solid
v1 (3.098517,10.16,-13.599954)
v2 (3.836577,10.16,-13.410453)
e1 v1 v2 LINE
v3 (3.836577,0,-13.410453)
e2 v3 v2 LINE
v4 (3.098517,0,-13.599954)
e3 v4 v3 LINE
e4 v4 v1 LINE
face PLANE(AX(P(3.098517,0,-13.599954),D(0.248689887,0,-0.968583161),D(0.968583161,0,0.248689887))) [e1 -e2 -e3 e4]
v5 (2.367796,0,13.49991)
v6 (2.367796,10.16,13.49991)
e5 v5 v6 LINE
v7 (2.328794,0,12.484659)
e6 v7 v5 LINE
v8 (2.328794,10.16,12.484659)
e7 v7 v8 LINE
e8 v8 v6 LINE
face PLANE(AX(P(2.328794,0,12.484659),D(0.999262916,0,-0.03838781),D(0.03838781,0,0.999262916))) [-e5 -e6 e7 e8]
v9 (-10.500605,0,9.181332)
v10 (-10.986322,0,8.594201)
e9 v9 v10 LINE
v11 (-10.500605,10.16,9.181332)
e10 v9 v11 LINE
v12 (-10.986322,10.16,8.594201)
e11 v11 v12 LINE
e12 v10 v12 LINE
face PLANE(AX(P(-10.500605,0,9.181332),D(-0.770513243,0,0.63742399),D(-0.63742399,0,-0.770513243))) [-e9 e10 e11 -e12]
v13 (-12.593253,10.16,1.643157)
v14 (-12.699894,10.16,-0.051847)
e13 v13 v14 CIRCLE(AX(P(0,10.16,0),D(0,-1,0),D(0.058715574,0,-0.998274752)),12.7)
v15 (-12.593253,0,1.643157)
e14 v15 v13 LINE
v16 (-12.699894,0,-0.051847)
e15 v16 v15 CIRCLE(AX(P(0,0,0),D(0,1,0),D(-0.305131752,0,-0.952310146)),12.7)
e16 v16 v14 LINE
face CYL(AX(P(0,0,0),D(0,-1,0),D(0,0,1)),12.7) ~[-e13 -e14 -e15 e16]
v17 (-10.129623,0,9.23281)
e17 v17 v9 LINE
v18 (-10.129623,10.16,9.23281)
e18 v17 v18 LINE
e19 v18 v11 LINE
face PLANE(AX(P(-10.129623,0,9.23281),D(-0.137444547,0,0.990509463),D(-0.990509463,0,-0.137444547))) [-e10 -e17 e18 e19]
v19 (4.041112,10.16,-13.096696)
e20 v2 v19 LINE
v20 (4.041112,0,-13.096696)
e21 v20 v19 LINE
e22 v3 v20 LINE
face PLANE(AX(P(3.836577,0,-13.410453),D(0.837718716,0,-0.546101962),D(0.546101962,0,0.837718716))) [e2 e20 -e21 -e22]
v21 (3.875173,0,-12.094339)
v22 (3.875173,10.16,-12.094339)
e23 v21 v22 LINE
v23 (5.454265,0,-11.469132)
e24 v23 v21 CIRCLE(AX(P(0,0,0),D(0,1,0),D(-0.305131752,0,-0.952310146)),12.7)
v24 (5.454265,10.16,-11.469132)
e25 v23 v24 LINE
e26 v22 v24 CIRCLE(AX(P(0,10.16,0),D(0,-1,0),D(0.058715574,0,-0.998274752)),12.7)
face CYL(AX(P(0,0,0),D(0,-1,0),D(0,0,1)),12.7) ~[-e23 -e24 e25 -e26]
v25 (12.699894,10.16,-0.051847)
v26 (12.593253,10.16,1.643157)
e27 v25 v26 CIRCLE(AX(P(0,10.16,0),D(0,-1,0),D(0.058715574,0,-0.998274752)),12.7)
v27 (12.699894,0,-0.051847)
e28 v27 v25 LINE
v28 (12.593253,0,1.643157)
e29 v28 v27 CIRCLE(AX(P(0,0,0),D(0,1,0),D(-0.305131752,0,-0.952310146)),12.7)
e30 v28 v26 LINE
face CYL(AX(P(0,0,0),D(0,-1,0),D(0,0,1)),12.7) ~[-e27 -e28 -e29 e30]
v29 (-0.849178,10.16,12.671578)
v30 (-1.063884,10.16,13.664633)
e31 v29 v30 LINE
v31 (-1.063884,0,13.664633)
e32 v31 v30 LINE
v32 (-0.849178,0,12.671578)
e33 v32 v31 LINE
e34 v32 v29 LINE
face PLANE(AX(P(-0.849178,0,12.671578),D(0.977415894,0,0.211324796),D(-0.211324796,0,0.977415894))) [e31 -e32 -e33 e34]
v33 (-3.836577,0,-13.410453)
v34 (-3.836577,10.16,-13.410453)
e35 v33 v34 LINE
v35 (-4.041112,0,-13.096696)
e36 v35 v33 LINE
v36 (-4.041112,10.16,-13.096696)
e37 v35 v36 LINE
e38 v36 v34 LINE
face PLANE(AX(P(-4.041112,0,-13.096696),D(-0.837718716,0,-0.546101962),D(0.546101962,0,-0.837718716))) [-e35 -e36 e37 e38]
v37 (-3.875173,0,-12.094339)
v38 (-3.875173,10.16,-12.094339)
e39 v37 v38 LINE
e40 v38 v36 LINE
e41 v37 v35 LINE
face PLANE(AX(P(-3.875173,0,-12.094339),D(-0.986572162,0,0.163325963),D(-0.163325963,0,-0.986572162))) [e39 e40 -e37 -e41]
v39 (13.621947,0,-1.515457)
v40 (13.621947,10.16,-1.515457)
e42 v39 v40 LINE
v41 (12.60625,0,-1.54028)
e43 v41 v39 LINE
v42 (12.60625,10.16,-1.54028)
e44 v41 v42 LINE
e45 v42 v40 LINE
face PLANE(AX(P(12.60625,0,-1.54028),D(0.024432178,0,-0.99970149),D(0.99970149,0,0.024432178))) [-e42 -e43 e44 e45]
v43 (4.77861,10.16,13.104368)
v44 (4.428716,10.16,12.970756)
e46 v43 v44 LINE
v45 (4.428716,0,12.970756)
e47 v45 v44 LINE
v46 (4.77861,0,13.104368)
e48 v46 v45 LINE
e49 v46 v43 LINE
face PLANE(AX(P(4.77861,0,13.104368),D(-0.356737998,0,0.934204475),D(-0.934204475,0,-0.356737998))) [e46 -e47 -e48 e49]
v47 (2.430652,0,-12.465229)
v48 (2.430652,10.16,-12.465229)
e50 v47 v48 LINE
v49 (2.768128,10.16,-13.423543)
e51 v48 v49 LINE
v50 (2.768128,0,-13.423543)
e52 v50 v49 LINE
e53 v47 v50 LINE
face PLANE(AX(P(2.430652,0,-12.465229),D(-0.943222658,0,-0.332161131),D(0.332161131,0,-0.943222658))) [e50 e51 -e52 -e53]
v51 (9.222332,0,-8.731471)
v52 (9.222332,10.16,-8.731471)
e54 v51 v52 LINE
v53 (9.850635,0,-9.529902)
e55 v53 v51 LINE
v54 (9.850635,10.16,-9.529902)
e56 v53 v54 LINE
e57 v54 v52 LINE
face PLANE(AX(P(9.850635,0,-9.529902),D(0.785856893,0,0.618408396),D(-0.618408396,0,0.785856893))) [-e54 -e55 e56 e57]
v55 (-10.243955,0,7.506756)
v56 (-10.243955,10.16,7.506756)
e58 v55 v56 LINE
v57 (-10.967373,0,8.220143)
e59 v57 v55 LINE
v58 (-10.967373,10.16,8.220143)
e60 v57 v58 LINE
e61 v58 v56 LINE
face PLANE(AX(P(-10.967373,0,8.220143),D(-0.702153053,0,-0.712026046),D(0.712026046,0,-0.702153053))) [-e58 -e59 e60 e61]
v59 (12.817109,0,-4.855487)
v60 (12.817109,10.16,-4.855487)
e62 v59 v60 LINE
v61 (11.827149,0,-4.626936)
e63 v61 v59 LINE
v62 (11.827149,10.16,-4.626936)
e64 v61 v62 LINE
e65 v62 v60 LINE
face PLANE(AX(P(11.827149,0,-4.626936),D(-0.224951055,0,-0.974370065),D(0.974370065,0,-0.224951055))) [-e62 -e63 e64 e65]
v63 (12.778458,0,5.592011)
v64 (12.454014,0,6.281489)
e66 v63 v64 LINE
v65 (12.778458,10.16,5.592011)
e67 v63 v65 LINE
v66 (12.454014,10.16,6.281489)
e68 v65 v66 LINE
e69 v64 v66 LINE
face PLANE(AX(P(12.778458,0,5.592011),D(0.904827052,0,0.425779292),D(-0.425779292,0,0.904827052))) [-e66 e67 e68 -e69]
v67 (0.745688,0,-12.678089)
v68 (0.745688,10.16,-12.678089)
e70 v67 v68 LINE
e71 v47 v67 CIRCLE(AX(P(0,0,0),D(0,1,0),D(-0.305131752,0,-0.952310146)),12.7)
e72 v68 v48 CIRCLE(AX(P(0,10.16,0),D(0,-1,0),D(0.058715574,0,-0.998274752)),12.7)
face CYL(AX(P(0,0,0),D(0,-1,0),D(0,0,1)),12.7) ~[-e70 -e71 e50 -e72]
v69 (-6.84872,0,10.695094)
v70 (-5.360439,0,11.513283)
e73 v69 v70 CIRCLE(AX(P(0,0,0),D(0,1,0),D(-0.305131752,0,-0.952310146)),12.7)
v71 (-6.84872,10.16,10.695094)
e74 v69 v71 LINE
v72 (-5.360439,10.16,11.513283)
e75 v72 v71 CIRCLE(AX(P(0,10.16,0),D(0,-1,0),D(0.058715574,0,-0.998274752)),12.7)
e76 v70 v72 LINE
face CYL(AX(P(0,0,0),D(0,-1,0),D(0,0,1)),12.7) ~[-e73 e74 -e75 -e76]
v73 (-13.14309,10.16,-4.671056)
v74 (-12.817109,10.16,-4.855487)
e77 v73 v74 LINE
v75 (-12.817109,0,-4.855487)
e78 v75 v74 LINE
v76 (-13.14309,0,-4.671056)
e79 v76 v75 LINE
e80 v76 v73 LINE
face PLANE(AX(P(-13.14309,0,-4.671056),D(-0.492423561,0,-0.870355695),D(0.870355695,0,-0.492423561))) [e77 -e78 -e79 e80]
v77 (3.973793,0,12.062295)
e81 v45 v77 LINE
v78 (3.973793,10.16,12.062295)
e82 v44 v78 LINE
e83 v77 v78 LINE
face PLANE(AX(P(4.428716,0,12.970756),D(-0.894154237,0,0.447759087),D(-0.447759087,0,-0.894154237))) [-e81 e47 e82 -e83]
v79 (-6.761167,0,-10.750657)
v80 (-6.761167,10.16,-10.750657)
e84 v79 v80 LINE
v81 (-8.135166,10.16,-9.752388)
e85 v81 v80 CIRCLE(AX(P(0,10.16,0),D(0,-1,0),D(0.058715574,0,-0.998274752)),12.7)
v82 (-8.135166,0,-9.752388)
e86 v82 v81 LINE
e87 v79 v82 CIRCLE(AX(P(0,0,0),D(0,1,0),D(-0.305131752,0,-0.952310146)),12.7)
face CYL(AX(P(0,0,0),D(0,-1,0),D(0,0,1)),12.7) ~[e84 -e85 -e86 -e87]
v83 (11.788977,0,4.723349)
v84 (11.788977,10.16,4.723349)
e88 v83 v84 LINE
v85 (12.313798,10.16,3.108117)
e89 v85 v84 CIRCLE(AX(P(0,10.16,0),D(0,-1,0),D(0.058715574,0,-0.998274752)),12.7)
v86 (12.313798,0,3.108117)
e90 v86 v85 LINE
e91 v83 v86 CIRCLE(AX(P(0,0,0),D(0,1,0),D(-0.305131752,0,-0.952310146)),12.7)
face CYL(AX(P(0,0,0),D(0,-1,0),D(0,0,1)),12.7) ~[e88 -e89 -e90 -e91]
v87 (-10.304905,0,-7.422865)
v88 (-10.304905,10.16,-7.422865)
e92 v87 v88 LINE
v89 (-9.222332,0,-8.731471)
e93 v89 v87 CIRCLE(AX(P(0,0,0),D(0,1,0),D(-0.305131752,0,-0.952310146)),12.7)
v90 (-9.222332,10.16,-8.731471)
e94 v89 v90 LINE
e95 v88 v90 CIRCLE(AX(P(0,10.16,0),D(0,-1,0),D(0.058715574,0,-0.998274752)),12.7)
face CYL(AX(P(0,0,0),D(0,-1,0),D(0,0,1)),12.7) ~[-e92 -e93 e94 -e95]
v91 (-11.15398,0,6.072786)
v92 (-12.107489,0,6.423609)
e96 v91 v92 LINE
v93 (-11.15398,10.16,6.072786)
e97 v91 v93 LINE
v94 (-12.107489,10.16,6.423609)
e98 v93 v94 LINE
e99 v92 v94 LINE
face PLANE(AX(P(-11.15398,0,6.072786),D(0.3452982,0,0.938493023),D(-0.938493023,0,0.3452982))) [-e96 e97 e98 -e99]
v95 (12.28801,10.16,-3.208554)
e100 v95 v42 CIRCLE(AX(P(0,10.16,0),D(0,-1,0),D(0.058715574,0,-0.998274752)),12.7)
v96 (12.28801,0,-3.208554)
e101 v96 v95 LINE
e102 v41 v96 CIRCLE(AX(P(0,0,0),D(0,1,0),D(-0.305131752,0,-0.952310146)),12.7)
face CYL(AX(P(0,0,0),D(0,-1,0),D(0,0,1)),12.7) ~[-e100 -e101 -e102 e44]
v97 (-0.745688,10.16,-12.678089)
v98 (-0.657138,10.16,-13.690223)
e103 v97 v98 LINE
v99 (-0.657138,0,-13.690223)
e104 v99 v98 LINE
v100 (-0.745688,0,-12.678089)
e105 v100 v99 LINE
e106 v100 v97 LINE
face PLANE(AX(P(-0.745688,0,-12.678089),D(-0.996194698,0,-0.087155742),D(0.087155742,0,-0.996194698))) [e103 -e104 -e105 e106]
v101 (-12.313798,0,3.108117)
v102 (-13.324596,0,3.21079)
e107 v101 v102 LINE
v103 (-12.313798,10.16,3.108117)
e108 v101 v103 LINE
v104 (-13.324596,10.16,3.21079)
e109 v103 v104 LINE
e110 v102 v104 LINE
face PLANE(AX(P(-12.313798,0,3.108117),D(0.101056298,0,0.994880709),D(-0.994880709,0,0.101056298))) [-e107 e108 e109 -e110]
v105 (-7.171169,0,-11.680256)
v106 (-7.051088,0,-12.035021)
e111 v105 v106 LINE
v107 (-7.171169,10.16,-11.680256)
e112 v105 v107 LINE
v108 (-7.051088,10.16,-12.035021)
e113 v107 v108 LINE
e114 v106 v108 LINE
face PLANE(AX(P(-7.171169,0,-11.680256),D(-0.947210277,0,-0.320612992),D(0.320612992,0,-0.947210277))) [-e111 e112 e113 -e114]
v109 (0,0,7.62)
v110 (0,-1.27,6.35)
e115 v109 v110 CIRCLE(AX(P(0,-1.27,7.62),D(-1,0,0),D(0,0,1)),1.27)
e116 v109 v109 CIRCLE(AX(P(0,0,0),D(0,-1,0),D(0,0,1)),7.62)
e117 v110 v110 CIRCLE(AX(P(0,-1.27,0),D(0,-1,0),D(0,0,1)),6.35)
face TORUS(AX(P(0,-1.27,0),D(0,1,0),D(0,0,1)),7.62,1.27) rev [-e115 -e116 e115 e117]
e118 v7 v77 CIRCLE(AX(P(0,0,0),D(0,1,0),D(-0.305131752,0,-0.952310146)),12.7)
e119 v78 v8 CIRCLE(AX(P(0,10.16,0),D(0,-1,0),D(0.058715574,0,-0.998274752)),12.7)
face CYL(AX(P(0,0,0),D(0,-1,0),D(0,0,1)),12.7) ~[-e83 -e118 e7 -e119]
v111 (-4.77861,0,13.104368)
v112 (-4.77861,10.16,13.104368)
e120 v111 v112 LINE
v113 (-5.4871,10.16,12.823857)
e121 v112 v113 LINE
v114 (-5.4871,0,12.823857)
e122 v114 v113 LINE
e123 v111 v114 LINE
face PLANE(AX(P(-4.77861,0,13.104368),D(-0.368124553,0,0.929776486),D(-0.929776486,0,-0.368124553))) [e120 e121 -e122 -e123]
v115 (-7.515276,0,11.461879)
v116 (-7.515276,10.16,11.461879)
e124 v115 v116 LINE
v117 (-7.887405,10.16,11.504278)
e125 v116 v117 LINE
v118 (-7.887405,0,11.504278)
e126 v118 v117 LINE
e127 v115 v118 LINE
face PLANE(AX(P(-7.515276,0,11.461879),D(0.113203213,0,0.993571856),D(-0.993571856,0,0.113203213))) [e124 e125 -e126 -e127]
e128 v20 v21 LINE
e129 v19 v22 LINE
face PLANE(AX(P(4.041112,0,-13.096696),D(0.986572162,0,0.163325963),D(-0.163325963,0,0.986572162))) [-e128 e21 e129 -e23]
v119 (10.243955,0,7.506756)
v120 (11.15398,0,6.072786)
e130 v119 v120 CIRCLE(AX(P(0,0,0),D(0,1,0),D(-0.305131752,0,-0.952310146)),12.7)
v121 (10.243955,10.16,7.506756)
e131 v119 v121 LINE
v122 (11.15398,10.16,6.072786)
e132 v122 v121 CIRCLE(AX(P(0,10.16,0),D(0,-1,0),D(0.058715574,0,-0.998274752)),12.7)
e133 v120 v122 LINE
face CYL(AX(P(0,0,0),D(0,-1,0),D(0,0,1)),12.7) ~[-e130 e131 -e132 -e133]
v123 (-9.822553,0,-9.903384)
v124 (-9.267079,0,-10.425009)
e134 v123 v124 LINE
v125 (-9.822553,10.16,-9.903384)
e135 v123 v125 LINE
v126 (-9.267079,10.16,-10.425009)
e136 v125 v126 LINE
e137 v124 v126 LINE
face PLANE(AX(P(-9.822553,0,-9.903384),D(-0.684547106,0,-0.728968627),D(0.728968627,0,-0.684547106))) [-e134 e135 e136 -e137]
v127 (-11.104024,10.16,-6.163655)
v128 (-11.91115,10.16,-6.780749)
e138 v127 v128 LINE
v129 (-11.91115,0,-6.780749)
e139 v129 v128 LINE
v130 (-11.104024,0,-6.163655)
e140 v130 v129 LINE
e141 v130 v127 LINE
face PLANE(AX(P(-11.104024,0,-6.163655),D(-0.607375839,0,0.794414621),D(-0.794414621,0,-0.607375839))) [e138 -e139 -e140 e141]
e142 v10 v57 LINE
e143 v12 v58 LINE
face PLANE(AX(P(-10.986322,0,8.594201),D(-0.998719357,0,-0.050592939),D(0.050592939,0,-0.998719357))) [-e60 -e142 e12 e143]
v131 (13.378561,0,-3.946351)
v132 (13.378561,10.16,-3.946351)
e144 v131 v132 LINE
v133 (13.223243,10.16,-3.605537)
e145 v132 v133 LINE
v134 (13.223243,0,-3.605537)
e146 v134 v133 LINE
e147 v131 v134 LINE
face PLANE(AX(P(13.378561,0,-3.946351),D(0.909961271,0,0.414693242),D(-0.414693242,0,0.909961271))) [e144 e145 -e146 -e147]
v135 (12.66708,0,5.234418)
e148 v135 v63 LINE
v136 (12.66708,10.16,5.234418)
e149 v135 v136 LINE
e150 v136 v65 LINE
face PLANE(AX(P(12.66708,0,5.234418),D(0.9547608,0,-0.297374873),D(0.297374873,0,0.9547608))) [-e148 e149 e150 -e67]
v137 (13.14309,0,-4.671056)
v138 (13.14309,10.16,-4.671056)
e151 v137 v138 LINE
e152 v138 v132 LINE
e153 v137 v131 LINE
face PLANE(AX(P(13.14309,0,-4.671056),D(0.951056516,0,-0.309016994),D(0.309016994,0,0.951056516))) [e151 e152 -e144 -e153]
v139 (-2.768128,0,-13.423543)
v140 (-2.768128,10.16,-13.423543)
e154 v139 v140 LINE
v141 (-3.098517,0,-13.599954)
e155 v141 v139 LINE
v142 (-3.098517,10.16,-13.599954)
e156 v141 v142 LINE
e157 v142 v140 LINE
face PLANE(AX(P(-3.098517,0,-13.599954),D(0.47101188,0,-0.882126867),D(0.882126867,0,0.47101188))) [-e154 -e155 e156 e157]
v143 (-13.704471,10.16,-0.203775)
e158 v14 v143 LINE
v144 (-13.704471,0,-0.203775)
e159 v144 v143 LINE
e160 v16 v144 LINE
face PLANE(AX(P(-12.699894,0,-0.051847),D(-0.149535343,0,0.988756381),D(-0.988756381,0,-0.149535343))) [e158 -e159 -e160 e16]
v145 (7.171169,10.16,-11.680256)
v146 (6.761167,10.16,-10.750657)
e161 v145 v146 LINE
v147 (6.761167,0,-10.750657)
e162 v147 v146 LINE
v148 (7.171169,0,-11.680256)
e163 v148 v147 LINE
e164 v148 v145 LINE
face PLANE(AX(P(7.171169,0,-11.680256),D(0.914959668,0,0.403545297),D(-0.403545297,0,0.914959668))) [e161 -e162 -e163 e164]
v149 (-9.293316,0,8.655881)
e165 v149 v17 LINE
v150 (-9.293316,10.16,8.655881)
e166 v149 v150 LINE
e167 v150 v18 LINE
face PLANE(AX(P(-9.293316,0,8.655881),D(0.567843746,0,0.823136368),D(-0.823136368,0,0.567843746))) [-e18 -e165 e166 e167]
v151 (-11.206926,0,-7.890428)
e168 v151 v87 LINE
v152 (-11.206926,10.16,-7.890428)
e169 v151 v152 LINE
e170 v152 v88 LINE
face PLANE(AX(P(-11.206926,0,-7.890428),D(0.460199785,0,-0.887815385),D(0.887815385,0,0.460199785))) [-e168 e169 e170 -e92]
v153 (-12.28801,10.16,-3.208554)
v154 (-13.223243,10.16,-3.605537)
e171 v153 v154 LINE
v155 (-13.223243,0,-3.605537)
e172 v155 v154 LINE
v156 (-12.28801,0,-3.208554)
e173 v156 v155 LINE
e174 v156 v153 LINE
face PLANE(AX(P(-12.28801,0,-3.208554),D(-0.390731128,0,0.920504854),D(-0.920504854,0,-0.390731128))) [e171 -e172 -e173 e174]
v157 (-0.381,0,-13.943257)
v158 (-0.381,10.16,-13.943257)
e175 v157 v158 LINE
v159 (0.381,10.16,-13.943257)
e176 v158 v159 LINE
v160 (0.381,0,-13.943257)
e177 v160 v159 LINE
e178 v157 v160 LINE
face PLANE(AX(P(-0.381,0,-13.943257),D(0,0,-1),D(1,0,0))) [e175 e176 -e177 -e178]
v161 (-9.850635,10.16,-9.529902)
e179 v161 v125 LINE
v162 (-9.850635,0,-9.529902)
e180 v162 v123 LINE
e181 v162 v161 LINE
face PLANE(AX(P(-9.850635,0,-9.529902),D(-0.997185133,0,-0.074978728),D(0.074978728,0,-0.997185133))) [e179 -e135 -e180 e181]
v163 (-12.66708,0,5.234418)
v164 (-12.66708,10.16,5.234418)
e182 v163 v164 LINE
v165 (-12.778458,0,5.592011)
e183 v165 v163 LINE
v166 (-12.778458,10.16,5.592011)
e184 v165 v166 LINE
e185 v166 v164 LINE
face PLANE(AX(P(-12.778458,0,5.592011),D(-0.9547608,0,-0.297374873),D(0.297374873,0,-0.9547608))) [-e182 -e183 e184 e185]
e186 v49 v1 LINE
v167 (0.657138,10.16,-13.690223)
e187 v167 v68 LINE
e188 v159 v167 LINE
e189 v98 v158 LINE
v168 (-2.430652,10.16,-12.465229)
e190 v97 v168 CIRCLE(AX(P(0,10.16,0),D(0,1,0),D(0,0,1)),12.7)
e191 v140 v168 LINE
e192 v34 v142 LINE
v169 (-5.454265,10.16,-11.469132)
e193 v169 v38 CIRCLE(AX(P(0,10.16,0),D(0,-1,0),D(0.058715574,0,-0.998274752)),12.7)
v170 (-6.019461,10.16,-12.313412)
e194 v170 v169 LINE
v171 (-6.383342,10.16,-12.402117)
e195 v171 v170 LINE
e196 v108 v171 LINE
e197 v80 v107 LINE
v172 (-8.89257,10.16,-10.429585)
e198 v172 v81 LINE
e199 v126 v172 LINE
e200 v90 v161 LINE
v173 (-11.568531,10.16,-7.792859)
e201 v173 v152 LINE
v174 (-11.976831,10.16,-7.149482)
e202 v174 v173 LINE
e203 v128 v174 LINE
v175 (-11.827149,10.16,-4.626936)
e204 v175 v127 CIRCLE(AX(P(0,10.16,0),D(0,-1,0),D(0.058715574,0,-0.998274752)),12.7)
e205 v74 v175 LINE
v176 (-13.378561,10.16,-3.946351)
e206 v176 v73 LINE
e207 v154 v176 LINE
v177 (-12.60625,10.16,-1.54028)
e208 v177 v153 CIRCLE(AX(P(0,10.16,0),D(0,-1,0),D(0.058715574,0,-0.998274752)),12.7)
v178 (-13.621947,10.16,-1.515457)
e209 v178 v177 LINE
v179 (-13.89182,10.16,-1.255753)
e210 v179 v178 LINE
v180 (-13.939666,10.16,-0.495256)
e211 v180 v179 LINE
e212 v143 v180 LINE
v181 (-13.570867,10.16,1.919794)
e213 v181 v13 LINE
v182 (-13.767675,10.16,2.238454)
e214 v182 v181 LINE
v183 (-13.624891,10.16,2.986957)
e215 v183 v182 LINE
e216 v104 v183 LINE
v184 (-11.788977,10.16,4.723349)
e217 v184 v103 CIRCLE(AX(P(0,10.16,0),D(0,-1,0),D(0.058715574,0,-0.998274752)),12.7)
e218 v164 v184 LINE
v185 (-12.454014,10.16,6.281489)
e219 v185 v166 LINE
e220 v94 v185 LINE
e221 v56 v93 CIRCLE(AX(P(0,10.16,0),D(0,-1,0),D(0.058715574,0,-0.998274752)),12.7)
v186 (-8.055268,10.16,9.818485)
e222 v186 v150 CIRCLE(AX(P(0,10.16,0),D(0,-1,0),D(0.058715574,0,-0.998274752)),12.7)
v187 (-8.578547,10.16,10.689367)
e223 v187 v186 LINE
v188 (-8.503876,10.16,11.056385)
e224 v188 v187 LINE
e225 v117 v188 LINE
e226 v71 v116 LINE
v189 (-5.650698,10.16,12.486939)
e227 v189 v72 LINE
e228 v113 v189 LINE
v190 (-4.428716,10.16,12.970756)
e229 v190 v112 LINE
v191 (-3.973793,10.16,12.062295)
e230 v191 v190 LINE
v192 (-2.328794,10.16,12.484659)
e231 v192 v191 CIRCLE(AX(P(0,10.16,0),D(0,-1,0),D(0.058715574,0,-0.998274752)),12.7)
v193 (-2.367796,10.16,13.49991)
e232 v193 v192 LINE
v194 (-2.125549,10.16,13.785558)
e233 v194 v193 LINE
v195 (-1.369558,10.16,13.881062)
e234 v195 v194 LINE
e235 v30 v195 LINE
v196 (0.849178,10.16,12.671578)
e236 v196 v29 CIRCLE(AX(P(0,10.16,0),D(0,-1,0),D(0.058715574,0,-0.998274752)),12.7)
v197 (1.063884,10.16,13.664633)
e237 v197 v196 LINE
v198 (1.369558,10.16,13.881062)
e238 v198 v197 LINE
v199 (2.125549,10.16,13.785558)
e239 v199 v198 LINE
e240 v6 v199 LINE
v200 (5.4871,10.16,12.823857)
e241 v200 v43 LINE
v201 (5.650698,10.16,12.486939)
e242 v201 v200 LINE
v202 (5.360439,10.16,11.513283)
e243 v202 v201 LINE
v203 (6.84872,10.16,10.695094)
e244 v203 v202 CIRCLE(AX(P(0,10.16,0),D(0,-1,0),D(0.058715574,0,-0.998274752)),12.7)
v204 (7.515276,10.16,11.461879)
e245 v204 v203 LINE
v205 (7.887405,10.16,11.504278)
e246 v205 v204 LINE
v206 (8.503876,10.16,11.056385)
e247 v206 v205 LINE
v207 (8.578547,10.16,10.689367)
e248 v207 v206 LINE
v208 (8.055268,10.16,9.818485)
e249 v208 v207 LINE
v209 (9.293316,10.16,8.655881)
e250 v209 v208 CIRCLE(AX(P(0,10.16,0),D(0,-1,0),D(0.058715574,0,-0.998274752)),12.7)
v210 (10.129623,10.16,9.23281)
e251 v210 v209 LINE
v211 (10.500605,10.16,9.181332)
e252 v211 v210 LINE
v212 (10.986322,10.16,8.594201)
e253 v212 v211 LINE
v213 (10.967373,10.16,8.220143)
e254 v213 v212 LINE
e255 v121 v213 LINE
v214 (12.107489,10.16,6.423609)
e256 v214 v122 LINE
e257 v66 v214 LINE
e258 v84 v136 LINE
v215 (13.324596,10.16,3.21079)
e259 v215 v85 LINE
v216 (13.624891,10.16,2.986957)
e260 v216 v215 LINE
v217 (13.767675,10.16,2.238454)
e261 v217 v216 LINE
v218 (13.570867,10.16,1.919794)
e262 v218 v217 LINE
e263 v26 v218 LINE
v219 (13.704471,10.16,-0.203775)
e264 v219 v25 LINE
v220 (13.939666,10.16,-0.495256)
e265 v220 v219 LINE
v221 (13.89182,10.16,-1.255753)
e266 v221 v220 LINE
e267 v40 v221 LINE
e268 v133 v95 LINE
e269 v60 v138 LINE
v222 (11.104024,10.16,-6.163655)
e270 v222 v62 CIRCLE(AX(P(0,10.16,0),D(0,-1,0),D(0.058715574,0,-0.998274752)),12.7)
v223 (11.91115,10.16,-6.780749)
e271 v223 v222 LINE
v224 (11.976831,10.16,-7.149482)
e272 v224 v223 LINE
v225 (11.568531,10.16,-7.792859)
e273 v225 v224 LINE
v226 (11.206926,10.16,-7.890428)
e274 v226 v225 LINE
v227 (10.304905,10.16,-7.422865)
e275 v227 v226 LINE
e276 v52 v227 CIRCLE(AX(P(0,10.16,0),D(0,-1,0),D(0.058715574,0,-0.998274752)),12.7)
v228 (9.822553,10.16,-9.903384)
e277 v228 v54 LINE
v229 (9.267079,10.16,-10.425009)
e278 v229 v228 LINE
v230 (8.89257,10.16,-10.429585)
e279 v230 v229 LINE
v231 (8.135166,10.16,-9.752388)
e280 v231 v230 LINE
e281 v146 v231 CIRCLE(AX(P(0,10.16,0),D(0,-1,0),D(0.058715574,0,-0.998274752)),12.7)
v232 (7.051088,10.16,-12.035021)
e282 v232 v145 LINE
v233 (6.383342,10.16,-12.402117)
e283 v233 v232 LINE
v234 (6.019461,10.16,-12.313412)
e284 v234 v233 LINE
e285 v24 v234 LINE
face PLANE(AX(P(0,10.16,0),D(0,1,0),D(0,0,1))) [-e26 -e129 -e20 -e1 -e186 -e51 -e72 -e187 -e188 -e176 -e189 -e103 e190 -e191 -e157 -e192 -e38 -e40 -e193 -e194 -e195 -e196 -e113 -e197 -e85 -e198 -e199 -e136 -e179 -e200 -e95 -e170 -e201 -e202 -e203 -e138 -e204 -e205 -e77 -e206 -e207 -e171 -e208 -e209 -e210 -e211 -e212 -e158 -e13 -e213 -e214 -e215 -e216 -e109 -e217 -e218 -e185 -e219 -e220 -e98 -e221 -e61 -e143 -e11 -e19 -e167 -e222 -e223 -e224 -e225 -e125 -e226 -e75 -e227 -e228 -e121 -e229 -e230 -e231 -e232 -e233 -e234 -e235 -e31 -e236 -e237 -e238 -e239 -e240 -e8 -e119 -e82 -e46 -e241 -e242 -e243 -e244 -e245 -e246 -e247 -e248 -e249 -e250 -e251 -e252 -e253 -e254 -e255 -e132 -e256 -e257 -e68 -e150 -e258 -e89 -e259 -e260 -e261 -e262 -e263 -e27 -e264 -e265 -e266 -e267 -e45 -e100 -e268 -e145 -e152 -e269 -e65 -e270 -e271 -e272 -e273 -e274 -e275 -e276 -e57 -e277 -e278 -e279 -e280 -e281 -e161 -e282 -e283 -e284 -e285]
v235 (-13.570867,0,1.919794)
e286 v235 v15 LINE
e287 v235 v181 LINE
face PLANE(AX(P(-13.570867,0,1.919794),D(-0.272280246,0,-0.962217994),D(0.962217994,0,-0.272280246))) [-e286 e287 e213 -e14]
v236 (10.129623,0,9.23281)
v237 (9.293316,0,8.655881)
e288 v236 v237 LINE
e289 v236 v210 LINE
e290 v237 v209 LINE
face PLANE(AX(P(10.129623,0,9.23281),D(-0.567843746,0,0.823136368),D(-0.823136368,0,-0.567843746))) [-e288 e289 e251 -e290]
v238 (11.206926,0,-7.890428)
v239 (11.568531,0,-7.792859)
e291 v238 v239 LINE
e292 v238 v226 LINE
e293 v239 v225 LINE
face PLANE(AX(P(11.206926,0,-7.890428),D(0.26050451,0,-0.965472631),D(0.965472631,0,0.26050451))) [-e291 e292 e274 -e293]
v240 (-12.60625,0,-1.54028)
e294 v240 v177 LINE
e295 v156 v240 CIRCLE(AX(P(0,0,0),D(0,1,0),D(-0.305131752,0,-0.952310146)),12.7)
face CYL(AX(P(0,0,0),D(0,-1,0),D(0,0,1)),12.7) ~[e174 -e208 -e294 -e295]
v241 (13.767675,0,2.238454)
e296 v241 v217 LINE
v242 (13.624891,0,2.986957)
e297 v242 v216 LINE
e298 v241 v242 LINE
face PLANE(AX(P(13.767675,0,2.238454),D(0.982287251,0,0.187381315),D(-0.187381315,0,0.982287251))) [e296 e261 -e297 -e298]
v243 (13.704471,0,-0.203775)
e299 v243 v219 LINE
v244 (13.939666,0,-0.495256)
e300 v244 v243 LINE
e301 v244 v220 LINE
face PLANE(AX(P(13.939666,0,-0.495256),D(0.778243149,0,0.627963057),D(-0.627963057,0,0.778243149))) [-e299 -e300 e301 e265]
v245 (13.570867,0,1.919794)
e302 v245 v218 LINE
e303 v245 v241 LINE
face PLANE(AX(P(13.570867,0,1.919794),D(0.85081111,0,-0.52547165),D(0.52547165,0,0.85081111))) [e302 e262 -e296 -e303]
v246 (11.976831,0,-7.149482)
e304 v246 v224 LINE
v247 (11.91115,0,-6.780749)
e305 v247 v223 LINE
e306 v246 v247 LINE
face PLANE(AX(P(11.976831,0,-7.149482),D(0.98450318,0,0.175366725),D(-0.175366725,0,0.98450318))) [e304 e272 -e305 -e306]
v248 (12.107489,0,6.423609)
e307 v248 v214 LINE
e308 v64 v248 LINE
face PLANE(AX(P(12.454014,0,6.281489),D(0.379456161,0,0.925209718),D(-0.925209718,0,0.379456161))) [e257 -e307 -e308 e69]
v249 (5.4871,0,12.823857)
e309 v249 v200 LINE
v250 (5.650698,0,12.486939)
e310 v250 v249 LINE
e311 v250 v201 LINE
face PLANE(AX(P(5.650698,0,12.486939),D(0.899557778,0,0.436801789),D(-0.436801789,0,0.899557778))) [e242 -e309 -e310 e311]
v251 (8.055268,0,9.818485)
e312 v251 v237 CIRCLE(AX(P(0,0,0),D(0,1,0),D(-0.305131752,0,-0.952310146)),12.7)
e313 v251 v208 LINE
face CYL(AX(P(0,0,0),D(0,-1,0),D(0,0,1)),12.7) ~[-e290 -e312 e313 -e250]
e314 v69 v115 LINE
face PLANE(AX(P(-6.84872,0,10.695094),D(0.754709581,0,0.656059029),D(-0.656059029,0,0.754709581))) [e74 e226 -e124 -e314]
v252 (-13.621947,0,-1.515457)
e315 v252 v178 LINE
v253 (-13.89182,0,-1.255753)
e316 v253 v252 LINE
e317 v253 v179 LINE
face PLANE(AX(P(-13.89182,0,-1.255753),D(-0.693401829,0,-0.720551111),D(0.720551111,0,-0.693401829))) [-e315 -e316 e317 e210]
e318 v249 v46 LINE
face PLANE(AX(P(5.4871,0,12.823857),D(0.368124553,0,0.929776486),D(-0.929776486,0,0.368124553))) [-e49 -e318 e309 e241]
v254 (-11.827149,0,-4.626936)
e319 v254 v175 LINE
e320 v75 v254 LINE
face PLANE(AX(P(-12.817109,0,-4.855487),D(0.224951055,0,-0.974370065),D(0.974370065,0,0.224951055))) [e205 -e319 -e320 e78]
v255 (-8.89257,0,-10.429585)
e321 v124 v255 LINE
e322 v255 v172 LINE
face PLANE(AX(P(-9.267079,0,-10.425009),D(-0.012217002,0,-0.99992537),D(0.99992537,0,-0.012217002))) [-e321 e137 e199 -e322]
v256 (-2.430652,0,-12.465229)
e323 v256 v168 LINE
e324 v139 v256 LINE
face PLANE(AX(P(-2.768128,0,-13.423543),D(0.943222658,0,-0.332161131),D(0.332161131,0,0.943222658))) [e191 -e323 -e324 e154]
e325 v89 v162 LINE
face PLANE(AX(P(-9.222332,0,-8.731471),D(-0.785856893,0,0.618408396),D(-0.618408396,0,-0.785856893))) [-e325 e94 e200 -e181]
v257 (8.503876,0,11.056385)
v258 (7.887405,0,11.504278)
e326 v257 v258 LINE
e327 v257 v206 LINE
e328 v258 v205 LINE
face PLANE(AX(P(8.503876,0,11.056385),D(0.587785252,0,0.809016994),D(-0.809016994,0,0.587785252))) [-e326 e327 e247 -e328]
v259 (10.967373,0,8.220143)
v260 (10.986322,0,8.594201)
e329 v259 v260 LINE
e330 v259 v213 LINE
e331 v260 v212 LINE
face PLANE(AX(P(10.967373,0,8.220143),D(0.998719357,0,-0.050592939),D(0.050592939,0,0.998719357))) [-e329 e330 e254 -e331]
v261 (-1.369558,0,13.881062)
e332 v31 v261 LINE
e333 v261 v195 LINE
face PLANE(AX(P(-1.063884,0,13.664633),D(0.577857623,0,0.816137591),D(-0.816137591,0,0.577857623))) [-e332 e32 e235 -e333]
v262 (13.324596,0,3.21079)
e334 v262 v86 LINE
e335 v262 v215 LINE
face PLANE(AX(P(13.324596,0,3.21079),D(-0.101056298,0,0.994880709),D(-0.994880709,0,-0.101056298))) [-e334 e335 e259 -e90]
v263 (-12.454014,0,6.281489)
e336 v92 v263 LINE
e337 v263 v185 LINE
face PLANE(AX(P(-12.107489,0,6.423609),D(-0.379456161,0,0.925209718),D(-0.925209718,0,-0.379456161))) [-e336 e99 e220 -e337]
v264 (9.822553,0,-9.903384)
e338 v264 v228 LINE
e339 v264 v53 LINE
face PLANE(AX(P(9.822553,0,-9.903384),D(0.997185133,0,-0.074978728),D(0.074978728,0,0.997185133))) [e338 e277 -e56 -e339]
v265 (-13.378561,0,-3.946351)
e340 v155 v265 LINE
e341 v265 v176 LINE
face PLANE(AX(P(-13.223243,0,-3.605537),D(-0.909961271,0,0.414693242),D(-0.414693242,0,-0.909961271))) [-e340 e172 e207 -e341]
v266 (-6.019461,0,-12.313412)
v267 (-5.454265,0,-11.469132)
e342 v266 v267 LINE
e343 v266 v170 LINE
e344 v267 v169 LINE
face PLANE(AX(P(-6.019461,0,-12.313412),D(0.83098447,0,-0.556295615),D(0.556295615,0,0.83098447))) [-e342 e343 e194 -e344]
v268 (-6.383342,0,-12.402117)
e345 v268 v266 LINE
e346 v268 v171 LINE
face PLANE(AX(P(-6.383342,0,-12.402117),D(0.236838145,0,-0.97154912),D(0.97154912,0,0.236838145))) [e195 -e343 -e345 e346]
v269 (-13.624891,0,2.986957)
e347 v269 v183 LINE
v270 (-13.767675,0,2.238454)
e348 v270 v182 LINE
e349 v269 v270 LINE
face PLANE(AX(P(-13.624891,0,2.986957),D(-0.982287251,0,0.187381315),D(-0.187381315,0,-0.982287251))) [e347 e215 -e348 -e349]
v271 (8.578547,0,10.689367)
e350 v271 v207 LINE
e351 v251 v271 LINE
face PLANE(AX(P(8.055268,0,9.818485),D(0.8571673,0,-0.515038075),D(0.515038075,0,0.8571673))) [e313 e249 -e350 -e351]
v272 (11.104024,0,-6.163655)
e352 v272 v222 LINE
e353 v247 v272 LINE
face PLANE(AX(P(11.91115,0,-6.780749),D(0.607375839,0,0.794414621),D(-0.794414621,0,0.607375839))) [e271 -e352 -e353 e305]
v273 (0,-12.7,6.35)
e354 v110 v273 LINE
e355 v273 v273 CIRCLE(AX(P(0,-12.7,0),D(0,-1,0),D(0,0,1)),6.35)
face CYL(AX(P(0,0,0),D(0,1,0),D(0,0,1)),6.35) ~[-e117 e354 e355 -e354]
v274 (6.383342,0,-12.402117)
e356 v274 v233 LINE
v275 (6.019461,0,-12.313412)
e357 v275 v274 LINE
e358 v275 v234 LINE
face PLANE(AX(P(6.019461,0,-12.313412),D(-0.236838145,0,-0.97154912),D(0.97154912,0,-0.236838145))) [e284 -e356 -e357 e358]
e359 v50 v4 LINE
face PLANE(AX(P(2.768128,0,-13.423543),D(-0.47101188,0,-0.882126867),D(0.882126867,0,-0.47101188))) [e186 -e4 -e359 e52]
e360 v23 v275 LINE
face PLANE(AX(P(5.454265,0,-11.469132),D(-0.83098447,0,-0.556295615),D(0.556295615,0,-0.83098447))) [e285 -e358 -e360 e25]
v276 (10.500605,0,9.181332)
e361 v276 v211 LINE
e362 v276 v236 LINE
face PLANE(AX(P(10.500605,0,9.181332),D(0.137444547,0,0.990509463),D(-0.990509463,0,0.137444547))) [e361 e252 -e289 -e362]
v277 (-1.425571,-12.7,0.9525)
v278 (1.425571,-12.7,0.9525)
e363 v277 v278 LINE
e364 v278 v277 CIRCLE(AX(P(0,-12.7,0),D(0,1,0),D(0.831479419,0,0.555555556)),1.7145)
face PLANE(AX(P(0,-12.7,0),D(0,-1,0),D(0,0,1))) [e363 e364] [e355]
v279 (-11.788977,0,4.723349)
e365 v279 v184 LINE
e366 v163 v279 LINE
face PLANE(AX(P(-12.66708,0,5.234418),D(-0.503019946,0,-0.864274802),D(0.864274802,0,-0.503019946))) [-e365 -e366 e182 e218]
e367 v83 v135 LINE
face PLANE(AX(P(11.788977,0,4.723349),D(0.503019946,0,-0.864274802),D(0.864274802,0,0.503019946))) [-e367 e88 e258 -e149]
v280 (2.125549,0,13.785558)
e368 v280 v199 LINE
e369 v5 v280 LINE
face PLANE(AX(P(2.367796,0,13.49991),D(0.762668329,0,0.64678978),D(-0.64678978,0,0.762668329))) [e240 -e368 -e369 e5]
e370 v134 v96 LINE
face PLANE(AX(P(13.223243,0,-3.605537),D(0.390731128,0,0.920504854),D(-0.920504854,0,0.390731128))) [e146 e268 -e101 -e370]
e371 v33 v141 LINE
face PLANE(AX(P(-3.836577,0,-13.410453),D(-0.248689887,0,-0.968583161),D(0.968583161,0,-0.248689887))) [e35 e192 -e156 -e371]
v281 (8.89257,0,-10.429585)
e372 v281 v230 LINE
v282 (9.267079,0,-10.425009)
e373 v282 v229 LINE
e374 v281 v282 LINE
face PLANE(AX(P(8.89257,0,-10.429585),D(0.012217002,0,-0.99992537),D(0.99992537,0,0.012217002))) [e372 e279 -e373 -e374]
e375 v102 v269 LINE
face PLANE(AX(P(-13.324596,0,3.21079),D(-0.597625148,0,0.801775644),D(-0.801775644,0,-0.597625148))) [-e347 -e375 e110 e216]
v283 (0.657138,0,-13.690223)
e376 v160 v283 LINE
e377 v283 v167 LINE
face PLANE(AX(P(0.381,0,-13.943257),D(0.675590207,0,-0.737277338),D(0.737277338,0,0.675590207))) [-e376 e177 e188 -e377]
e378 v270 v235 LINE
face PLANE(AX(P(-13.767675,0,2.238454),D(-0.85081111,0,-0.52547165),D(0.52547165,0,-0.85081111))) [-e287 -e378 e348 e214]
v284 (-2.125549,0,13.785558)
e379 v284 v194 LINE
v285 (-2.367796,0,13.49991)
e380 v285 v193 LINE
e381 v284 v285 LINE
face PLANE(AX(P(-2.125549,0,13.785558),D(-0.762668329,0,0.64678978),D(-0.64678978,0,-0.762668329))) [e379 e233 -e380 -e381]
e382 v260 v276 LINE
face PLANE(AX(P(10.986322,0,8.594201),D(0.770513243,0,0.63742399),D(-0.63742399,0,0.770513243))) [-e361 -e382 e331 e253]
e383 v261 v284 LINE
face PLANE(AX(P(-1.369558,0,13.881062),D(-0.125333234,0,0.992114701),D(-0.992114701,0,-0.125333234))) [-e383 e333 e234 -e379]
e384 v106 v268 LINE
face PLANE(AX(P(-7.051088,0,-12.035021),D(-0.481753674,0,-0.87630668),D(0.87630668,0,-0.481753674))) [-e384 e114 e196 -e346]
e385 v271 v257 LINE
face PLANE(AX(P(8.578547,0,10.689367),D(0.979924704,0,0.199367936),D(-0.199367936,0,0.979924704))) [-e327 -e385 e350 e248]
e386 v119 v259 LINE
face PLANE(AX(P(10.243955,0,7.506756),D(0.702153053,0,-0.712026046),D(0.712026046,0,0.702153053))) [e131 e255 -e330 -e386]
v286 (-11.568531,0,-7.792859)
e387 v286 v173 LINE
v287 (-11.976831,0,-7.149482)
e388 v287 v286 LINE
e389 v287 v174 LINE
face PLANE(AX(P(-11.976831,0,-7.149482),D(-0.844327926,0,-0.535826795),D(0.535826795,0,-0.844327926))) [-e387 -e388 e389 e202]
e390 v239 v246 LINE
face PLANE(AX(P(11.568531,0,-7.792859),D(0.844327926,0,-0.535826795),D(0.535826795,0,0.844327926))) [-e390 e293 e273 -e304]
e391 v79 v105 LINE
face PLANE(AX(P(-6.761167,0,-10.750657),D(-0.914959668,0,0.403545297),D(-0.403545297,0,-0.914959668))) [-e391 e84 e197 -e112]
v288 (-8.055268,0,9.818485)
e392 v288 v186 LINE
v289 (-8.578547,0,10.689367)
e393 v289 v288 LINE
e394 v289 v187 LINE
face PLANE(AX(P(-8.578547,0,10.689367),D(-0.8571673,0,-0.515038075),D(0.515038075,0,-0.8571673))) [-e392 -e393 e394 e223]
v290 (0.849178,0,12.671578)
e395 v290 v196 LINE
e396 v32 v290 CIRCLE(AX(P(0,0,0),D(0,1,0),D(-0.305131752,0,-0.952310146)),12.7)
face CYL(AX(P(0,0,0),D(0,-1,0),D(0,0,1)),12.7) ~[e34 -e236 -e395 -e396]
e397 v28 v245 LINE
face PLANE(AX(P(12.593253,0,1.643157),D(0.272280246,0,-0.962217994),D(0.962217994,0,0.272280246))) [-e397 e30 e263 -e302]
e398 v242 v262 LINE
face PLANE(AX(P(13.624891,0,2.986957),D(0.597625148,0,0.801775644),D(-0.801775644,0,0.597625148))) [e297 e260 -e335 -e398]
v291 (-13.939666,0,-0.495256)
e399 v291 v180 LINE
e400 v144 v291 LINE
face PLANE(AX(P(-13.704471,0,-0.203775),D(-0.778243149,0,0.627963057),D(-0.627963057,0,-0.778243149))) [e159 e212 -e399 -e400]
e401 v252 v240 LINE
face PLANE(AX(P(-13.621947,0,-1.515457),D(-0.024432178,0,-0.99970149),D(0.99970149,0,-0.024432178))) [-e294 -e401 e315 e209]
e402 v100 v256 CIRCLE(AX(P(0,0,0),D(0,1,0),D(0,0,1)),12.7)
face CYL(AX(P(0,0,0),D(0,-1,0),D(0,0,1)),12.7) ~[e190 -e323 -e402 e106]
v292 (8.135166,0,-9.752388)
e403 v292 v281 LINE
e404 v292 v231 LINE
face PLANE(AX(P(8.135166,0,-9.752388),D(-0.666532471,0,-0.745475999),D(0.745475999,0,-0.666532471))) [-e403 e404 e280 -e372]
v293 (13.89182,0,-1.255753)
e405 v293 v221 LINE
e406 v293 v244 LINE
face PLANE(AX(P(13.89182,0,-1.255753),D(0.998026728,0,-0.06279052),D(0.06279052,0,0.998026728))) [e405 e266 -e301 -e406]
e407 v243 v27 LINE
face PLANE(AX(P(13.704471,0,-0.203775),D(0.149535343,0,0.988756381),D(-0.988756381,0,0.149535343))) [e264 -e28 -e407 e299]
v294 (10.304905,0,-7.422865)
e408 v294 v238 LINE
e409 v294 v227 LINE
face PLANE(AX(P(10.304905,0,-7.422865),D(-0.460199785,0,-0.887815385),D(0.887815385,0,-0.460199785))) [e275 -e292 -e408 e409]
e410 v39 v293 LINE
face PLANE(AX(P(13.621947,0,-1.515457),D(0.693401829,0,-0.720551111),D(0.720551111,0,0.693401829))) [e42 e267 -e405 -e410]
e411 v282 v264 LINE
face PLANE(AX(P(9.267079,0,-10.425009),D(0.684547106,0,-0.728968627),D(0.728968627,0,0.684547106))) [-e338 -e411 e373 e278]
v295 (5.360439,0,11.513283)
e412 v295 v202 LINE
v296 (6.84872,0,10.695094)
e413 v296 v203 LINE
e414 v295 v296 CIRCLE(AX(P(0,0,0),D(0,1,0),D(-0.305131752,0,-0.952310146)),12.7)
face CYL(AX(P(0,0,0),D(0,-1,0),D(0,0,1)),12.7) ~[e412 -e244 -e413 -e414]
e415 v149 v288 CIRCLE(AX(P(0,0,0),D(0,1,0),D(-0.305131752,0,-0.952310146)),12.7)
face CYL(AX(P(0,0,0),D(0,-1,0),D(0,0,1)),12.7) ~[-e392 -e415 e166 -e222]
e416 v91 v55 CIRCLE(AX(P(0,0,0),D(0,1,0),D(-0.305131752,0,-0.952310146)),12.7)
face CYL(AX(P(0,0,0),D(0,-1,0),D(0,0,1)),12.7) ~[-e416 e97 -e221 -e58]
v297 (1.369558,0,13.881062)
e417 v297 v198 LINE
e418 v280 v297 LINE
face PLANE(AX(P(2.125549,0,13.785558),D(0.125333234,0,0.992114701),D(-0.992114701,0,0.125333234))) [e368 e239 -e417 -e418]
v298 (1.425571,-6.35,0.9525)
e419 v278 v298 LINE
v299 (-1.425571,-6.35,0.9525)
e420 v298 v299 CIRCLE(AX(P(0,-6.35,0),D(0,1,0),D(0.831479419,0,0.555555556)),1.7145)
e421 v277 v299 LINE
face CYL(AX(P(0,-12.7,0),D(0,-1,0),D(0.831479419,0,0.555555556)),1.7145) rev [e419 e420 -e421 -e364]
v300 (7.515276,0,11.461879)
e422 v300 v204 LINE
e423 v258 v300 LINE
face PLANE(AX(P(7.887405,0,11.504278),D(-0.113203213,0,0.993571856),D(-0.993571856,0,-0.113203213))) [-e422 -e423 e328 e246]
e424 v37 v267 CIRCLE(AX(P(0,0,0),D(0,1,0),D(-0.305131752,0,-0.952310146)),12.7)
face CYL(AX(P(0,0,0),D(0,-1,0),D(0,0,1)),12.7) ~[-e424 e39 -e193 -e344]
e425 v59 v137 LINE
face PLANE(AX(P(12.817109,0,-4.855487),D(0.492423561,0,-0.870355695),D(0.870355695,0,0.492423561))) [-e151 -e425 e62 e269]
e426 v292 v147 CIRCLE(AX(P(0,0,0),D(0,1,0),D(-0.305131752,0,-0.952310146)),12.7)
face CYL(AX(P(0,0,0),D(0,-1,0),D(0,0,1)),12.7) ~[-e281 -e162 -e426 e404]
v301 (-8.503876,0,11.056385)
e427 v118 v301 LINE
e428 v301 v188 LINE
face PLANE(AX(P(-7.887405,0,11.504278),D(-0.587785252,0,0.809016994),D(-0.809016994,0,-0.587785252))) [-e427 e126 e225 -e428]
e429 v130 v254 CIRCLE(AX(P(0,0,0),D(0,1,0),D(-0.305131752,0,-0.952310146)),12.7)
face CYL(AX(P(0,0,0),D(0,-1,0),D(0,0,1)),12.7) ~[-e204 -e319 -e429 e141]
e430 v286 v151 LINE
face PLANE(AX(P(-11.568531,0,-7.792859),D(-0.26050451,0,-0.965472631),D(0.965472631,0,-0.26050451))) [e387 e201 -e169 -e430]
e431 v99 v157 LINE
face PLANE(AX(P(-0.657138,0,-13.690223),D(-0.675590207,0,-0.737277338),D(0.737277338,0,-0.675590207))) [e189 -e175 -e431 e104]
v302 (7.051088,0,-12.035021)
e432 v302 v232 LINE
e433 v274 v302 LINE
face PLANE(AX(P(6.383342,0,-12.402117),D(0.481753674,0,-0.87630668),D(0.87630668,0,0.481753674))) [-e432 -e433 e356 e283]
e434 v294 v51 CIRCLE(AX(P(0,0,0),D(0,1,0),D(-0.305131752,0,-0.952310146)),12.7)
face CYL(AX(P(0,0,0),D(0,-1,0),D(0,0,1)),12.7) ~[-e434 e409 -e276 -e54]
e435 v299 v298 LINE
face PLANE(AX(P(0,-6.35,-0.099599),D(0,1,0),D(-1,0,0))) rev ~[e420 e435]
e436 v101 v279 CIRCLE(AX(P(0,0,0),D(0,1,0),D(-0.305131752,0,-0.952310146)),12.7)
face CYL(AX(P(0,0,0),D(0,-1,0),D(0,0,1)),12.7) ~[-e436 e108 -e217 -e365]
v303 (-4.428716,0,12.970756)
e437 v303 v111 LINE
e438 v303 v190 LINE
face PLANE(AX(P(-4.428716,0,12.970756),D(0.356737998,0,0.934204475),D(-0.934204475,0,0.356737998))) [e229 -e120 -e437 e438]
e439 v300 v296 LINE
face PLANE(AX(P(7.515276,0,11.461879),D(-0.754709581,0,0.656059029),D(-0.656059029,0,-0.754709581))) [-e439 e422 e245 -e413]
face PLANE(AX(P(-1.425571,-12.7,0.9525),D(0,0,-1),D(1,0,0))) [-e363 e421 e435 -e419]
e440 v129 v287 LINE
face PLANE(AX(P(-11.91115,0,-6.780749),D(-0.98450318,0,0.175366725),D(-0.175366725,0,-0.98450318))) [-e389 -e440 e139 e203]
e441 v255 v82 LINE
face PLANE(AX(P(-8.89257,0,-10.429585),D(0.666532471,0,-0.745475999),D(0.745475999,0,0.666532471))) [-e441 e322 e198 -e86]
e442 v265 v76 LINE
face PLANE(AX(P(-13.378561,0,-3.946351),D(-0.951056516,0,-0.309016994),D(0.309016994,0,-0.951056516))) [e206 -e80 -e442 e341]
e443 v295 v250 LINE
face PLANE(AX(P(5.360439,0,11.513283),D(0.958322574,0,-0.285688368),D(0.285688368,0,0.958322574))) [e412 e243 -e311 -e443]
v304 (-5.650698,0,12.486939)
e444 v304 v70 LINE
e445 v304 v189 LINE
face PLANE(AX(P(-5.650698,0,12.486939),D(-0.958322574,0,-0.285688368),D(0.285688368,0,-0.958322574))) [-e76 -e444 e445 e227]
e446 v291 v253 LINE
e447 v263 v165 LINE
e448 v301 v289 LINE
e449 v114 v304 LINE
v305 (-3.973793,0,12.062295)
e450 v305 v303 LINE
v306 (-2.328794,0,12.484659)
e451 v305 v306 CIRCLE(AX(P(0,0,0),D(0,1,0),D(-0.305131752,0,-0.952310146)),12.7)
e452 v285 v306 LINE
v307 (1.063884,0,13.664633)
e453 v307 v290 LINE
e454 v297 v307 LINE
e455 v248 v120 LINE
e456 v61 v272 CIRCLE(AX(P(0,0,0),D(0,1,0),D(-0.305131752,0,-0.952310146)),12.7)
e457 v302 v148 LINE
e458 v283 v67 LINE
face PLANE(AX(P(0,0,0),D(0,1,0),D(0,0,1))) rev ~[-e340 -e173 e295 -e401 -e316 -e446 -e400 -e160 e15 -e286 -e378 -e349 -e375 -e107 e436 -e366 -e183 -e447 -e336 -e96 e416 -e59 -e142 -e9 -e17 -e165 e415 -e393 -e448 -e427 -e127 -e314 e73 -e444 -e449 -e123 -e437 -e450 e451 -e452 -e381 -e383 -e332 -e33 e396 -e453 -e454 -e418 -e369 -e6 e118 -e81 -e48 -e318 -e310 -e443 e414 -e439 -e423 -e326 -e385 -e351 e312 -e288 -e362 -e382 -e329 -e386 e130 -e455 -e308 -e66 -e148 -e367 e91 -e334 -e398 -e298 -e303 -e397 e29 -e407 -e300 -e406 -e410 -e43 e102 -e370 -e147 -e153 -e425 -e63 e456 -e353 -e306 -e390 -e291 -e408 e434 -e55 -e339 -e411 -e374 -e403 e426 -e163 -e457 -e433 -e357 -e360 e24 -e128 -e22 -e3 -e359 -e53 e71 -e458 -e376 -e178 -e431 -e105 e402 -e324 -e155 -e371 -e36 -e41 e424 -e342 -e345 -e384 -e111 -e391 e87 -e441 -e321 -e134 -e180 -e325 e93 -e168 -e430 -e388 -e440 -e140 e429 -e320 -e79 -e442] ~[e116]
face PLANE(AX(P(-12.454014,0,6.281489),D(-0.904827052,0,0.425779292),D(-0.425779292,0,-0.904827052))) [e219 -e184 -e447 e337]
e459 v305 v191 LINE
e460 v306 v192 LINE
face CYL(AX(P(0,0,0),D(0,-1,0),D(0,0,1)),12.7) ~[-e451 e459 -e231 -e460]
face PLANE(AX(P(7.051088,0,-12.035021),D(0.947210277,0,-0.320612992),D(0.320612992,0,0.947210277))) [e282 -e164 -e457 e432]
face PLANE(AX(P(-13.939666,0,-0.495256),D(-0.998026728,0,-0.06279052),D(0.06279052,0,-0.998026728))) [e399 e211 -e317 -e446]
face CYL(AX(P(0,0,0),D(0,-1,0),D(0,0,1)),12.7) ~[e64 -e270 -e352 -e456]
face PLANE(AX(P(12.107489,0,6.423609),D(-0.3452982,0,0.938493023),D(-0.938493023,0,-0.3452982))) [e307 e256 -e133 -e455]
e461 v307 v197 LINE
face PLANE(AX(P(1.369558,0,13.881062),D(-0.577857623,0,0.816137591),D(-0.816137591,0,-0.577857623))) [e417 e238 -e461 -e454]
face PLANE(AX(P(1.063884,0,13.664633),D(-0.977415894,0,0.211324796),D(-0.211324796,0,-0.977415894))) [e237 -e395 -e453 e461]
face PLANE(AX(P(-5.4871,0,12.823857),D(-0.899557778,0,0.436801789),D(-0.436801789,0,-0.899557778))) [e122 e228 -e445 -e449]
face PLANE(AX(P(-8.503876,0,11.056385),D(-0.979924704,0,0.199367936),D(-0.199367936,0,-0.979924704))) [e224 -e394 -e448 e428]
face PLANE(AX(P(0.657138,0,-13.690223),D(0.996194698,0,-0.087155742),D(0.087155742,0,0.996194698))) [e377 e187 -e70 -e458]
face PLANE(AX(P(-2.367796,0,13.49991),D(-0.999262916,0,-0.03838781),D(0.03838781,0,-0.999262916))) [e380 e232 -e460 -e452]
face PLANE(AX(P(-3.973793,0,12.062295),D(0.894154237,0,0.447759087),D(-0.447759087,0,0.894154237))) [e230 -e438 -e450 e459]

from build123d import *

# Parameters (mm, degrees)
SKETCH1_R           = 12.7
BOSS_EXTRUDE1_DEPTH = 10.16
BOSS_EXTRUDE2_START = -10.16
BOSS_EXTRUDE2_DEPTH = 10.16
CIRPATTERN1_COUNT   = 25
SKETCH3_R           = 6.35
BOSS_EXTRUDE3_DEPTH = 12.7
CUT_EXTRUDE1_DEPTH  = 6.35
FILLET1_R           = 1.27


with BuildPart() as part:
    # Sketch1 → Boss-Extrude1 (new body)
    with BuildSketch(Plane(origin=(0, 0, 0), x_dir=(1, 0, 0), z_dir=(0, 1, 0))):
        with Locations(Location((0, 0, 0), (0, 0, 270))):
            Circle(SKETCH1_R)
    extrude(amount=BOSS_EXTRUDE1_DEPTH)

    # Sketch2 → Boss-Extrude2 (add)
    with BuildSketch(Plane(origin=(0, 10.16, 0), x_dir=(1, 0, 0), z_dir=(0, 1, 0)).offset(BOSS_EXTRUDE2_START)):
        with BuildLine():
            Line((-0.745687793, 12.678089356), (-0.657137559, 13.690223169))
            Line((-0.657137559, 13.690223169), (-0.381, 13.943256622))
            Line((-0.381, 13.943256622), (0.381, 13.943256622))
            Line((0.381, 13.943256622), (0.657137559, 13.690223169))
            Line((0.657137559, 13.690223169), (0.745687793, 12.678089356))
            ThreePointArc((0.745687793, 12.678089356), (0, 12.7), (-0.745687793, 12.678089356))
        make_face()
    boss_extrude2 = extrude(amount=BOSS_EXTRUDE2_DEPTH)

    # CirPattern1: Boss-Extrude2 ×25 about axis
    cirpattern1_axis = Axis((0, 0, 0), (0, 1, 0))
    for i in range(1, CIRPATTERN1_COUNT):
        add(boss_extrude2.rotate(cirpattern1_axis, i * 360 / CIRPATTERN1_COUNT))

    # Sketch3 → Boss-Extrude3 (add)
    with BuildSketch(Plane.XZ):
        with Locations(Location((0, 0, 0), (0, 0, 90))):
            Circle(SKETCH3_R)
    extrude(amount=BOSS_EXTRUDE3_DEPTH)

    # Sketch4 → Cut-Extrude1 (cut)
    with BuildSketch(Plane.XZ.offset(12.7)):
        with BuildLine():
            Line((-1.425571464, 0.9525), (1.425571464, 0.9525))
            ThreePointArc((1.425571464, 0.9525), (0, -1.7145), (-1.425571464, 0.9525))
        make_face()
    extrude(amount=-CUT_EXTRUDE1_DEPTH, mode=Mode.SUBTRACT)

    # Fillet1
    fillet1_edges = [part.edges().sort_by_distance(p)[0] for p in [
        (0, 0, -6.35),
    ]]
    fillet(fillet1_edges, radius=FILLET1_R)


solid = part.part
